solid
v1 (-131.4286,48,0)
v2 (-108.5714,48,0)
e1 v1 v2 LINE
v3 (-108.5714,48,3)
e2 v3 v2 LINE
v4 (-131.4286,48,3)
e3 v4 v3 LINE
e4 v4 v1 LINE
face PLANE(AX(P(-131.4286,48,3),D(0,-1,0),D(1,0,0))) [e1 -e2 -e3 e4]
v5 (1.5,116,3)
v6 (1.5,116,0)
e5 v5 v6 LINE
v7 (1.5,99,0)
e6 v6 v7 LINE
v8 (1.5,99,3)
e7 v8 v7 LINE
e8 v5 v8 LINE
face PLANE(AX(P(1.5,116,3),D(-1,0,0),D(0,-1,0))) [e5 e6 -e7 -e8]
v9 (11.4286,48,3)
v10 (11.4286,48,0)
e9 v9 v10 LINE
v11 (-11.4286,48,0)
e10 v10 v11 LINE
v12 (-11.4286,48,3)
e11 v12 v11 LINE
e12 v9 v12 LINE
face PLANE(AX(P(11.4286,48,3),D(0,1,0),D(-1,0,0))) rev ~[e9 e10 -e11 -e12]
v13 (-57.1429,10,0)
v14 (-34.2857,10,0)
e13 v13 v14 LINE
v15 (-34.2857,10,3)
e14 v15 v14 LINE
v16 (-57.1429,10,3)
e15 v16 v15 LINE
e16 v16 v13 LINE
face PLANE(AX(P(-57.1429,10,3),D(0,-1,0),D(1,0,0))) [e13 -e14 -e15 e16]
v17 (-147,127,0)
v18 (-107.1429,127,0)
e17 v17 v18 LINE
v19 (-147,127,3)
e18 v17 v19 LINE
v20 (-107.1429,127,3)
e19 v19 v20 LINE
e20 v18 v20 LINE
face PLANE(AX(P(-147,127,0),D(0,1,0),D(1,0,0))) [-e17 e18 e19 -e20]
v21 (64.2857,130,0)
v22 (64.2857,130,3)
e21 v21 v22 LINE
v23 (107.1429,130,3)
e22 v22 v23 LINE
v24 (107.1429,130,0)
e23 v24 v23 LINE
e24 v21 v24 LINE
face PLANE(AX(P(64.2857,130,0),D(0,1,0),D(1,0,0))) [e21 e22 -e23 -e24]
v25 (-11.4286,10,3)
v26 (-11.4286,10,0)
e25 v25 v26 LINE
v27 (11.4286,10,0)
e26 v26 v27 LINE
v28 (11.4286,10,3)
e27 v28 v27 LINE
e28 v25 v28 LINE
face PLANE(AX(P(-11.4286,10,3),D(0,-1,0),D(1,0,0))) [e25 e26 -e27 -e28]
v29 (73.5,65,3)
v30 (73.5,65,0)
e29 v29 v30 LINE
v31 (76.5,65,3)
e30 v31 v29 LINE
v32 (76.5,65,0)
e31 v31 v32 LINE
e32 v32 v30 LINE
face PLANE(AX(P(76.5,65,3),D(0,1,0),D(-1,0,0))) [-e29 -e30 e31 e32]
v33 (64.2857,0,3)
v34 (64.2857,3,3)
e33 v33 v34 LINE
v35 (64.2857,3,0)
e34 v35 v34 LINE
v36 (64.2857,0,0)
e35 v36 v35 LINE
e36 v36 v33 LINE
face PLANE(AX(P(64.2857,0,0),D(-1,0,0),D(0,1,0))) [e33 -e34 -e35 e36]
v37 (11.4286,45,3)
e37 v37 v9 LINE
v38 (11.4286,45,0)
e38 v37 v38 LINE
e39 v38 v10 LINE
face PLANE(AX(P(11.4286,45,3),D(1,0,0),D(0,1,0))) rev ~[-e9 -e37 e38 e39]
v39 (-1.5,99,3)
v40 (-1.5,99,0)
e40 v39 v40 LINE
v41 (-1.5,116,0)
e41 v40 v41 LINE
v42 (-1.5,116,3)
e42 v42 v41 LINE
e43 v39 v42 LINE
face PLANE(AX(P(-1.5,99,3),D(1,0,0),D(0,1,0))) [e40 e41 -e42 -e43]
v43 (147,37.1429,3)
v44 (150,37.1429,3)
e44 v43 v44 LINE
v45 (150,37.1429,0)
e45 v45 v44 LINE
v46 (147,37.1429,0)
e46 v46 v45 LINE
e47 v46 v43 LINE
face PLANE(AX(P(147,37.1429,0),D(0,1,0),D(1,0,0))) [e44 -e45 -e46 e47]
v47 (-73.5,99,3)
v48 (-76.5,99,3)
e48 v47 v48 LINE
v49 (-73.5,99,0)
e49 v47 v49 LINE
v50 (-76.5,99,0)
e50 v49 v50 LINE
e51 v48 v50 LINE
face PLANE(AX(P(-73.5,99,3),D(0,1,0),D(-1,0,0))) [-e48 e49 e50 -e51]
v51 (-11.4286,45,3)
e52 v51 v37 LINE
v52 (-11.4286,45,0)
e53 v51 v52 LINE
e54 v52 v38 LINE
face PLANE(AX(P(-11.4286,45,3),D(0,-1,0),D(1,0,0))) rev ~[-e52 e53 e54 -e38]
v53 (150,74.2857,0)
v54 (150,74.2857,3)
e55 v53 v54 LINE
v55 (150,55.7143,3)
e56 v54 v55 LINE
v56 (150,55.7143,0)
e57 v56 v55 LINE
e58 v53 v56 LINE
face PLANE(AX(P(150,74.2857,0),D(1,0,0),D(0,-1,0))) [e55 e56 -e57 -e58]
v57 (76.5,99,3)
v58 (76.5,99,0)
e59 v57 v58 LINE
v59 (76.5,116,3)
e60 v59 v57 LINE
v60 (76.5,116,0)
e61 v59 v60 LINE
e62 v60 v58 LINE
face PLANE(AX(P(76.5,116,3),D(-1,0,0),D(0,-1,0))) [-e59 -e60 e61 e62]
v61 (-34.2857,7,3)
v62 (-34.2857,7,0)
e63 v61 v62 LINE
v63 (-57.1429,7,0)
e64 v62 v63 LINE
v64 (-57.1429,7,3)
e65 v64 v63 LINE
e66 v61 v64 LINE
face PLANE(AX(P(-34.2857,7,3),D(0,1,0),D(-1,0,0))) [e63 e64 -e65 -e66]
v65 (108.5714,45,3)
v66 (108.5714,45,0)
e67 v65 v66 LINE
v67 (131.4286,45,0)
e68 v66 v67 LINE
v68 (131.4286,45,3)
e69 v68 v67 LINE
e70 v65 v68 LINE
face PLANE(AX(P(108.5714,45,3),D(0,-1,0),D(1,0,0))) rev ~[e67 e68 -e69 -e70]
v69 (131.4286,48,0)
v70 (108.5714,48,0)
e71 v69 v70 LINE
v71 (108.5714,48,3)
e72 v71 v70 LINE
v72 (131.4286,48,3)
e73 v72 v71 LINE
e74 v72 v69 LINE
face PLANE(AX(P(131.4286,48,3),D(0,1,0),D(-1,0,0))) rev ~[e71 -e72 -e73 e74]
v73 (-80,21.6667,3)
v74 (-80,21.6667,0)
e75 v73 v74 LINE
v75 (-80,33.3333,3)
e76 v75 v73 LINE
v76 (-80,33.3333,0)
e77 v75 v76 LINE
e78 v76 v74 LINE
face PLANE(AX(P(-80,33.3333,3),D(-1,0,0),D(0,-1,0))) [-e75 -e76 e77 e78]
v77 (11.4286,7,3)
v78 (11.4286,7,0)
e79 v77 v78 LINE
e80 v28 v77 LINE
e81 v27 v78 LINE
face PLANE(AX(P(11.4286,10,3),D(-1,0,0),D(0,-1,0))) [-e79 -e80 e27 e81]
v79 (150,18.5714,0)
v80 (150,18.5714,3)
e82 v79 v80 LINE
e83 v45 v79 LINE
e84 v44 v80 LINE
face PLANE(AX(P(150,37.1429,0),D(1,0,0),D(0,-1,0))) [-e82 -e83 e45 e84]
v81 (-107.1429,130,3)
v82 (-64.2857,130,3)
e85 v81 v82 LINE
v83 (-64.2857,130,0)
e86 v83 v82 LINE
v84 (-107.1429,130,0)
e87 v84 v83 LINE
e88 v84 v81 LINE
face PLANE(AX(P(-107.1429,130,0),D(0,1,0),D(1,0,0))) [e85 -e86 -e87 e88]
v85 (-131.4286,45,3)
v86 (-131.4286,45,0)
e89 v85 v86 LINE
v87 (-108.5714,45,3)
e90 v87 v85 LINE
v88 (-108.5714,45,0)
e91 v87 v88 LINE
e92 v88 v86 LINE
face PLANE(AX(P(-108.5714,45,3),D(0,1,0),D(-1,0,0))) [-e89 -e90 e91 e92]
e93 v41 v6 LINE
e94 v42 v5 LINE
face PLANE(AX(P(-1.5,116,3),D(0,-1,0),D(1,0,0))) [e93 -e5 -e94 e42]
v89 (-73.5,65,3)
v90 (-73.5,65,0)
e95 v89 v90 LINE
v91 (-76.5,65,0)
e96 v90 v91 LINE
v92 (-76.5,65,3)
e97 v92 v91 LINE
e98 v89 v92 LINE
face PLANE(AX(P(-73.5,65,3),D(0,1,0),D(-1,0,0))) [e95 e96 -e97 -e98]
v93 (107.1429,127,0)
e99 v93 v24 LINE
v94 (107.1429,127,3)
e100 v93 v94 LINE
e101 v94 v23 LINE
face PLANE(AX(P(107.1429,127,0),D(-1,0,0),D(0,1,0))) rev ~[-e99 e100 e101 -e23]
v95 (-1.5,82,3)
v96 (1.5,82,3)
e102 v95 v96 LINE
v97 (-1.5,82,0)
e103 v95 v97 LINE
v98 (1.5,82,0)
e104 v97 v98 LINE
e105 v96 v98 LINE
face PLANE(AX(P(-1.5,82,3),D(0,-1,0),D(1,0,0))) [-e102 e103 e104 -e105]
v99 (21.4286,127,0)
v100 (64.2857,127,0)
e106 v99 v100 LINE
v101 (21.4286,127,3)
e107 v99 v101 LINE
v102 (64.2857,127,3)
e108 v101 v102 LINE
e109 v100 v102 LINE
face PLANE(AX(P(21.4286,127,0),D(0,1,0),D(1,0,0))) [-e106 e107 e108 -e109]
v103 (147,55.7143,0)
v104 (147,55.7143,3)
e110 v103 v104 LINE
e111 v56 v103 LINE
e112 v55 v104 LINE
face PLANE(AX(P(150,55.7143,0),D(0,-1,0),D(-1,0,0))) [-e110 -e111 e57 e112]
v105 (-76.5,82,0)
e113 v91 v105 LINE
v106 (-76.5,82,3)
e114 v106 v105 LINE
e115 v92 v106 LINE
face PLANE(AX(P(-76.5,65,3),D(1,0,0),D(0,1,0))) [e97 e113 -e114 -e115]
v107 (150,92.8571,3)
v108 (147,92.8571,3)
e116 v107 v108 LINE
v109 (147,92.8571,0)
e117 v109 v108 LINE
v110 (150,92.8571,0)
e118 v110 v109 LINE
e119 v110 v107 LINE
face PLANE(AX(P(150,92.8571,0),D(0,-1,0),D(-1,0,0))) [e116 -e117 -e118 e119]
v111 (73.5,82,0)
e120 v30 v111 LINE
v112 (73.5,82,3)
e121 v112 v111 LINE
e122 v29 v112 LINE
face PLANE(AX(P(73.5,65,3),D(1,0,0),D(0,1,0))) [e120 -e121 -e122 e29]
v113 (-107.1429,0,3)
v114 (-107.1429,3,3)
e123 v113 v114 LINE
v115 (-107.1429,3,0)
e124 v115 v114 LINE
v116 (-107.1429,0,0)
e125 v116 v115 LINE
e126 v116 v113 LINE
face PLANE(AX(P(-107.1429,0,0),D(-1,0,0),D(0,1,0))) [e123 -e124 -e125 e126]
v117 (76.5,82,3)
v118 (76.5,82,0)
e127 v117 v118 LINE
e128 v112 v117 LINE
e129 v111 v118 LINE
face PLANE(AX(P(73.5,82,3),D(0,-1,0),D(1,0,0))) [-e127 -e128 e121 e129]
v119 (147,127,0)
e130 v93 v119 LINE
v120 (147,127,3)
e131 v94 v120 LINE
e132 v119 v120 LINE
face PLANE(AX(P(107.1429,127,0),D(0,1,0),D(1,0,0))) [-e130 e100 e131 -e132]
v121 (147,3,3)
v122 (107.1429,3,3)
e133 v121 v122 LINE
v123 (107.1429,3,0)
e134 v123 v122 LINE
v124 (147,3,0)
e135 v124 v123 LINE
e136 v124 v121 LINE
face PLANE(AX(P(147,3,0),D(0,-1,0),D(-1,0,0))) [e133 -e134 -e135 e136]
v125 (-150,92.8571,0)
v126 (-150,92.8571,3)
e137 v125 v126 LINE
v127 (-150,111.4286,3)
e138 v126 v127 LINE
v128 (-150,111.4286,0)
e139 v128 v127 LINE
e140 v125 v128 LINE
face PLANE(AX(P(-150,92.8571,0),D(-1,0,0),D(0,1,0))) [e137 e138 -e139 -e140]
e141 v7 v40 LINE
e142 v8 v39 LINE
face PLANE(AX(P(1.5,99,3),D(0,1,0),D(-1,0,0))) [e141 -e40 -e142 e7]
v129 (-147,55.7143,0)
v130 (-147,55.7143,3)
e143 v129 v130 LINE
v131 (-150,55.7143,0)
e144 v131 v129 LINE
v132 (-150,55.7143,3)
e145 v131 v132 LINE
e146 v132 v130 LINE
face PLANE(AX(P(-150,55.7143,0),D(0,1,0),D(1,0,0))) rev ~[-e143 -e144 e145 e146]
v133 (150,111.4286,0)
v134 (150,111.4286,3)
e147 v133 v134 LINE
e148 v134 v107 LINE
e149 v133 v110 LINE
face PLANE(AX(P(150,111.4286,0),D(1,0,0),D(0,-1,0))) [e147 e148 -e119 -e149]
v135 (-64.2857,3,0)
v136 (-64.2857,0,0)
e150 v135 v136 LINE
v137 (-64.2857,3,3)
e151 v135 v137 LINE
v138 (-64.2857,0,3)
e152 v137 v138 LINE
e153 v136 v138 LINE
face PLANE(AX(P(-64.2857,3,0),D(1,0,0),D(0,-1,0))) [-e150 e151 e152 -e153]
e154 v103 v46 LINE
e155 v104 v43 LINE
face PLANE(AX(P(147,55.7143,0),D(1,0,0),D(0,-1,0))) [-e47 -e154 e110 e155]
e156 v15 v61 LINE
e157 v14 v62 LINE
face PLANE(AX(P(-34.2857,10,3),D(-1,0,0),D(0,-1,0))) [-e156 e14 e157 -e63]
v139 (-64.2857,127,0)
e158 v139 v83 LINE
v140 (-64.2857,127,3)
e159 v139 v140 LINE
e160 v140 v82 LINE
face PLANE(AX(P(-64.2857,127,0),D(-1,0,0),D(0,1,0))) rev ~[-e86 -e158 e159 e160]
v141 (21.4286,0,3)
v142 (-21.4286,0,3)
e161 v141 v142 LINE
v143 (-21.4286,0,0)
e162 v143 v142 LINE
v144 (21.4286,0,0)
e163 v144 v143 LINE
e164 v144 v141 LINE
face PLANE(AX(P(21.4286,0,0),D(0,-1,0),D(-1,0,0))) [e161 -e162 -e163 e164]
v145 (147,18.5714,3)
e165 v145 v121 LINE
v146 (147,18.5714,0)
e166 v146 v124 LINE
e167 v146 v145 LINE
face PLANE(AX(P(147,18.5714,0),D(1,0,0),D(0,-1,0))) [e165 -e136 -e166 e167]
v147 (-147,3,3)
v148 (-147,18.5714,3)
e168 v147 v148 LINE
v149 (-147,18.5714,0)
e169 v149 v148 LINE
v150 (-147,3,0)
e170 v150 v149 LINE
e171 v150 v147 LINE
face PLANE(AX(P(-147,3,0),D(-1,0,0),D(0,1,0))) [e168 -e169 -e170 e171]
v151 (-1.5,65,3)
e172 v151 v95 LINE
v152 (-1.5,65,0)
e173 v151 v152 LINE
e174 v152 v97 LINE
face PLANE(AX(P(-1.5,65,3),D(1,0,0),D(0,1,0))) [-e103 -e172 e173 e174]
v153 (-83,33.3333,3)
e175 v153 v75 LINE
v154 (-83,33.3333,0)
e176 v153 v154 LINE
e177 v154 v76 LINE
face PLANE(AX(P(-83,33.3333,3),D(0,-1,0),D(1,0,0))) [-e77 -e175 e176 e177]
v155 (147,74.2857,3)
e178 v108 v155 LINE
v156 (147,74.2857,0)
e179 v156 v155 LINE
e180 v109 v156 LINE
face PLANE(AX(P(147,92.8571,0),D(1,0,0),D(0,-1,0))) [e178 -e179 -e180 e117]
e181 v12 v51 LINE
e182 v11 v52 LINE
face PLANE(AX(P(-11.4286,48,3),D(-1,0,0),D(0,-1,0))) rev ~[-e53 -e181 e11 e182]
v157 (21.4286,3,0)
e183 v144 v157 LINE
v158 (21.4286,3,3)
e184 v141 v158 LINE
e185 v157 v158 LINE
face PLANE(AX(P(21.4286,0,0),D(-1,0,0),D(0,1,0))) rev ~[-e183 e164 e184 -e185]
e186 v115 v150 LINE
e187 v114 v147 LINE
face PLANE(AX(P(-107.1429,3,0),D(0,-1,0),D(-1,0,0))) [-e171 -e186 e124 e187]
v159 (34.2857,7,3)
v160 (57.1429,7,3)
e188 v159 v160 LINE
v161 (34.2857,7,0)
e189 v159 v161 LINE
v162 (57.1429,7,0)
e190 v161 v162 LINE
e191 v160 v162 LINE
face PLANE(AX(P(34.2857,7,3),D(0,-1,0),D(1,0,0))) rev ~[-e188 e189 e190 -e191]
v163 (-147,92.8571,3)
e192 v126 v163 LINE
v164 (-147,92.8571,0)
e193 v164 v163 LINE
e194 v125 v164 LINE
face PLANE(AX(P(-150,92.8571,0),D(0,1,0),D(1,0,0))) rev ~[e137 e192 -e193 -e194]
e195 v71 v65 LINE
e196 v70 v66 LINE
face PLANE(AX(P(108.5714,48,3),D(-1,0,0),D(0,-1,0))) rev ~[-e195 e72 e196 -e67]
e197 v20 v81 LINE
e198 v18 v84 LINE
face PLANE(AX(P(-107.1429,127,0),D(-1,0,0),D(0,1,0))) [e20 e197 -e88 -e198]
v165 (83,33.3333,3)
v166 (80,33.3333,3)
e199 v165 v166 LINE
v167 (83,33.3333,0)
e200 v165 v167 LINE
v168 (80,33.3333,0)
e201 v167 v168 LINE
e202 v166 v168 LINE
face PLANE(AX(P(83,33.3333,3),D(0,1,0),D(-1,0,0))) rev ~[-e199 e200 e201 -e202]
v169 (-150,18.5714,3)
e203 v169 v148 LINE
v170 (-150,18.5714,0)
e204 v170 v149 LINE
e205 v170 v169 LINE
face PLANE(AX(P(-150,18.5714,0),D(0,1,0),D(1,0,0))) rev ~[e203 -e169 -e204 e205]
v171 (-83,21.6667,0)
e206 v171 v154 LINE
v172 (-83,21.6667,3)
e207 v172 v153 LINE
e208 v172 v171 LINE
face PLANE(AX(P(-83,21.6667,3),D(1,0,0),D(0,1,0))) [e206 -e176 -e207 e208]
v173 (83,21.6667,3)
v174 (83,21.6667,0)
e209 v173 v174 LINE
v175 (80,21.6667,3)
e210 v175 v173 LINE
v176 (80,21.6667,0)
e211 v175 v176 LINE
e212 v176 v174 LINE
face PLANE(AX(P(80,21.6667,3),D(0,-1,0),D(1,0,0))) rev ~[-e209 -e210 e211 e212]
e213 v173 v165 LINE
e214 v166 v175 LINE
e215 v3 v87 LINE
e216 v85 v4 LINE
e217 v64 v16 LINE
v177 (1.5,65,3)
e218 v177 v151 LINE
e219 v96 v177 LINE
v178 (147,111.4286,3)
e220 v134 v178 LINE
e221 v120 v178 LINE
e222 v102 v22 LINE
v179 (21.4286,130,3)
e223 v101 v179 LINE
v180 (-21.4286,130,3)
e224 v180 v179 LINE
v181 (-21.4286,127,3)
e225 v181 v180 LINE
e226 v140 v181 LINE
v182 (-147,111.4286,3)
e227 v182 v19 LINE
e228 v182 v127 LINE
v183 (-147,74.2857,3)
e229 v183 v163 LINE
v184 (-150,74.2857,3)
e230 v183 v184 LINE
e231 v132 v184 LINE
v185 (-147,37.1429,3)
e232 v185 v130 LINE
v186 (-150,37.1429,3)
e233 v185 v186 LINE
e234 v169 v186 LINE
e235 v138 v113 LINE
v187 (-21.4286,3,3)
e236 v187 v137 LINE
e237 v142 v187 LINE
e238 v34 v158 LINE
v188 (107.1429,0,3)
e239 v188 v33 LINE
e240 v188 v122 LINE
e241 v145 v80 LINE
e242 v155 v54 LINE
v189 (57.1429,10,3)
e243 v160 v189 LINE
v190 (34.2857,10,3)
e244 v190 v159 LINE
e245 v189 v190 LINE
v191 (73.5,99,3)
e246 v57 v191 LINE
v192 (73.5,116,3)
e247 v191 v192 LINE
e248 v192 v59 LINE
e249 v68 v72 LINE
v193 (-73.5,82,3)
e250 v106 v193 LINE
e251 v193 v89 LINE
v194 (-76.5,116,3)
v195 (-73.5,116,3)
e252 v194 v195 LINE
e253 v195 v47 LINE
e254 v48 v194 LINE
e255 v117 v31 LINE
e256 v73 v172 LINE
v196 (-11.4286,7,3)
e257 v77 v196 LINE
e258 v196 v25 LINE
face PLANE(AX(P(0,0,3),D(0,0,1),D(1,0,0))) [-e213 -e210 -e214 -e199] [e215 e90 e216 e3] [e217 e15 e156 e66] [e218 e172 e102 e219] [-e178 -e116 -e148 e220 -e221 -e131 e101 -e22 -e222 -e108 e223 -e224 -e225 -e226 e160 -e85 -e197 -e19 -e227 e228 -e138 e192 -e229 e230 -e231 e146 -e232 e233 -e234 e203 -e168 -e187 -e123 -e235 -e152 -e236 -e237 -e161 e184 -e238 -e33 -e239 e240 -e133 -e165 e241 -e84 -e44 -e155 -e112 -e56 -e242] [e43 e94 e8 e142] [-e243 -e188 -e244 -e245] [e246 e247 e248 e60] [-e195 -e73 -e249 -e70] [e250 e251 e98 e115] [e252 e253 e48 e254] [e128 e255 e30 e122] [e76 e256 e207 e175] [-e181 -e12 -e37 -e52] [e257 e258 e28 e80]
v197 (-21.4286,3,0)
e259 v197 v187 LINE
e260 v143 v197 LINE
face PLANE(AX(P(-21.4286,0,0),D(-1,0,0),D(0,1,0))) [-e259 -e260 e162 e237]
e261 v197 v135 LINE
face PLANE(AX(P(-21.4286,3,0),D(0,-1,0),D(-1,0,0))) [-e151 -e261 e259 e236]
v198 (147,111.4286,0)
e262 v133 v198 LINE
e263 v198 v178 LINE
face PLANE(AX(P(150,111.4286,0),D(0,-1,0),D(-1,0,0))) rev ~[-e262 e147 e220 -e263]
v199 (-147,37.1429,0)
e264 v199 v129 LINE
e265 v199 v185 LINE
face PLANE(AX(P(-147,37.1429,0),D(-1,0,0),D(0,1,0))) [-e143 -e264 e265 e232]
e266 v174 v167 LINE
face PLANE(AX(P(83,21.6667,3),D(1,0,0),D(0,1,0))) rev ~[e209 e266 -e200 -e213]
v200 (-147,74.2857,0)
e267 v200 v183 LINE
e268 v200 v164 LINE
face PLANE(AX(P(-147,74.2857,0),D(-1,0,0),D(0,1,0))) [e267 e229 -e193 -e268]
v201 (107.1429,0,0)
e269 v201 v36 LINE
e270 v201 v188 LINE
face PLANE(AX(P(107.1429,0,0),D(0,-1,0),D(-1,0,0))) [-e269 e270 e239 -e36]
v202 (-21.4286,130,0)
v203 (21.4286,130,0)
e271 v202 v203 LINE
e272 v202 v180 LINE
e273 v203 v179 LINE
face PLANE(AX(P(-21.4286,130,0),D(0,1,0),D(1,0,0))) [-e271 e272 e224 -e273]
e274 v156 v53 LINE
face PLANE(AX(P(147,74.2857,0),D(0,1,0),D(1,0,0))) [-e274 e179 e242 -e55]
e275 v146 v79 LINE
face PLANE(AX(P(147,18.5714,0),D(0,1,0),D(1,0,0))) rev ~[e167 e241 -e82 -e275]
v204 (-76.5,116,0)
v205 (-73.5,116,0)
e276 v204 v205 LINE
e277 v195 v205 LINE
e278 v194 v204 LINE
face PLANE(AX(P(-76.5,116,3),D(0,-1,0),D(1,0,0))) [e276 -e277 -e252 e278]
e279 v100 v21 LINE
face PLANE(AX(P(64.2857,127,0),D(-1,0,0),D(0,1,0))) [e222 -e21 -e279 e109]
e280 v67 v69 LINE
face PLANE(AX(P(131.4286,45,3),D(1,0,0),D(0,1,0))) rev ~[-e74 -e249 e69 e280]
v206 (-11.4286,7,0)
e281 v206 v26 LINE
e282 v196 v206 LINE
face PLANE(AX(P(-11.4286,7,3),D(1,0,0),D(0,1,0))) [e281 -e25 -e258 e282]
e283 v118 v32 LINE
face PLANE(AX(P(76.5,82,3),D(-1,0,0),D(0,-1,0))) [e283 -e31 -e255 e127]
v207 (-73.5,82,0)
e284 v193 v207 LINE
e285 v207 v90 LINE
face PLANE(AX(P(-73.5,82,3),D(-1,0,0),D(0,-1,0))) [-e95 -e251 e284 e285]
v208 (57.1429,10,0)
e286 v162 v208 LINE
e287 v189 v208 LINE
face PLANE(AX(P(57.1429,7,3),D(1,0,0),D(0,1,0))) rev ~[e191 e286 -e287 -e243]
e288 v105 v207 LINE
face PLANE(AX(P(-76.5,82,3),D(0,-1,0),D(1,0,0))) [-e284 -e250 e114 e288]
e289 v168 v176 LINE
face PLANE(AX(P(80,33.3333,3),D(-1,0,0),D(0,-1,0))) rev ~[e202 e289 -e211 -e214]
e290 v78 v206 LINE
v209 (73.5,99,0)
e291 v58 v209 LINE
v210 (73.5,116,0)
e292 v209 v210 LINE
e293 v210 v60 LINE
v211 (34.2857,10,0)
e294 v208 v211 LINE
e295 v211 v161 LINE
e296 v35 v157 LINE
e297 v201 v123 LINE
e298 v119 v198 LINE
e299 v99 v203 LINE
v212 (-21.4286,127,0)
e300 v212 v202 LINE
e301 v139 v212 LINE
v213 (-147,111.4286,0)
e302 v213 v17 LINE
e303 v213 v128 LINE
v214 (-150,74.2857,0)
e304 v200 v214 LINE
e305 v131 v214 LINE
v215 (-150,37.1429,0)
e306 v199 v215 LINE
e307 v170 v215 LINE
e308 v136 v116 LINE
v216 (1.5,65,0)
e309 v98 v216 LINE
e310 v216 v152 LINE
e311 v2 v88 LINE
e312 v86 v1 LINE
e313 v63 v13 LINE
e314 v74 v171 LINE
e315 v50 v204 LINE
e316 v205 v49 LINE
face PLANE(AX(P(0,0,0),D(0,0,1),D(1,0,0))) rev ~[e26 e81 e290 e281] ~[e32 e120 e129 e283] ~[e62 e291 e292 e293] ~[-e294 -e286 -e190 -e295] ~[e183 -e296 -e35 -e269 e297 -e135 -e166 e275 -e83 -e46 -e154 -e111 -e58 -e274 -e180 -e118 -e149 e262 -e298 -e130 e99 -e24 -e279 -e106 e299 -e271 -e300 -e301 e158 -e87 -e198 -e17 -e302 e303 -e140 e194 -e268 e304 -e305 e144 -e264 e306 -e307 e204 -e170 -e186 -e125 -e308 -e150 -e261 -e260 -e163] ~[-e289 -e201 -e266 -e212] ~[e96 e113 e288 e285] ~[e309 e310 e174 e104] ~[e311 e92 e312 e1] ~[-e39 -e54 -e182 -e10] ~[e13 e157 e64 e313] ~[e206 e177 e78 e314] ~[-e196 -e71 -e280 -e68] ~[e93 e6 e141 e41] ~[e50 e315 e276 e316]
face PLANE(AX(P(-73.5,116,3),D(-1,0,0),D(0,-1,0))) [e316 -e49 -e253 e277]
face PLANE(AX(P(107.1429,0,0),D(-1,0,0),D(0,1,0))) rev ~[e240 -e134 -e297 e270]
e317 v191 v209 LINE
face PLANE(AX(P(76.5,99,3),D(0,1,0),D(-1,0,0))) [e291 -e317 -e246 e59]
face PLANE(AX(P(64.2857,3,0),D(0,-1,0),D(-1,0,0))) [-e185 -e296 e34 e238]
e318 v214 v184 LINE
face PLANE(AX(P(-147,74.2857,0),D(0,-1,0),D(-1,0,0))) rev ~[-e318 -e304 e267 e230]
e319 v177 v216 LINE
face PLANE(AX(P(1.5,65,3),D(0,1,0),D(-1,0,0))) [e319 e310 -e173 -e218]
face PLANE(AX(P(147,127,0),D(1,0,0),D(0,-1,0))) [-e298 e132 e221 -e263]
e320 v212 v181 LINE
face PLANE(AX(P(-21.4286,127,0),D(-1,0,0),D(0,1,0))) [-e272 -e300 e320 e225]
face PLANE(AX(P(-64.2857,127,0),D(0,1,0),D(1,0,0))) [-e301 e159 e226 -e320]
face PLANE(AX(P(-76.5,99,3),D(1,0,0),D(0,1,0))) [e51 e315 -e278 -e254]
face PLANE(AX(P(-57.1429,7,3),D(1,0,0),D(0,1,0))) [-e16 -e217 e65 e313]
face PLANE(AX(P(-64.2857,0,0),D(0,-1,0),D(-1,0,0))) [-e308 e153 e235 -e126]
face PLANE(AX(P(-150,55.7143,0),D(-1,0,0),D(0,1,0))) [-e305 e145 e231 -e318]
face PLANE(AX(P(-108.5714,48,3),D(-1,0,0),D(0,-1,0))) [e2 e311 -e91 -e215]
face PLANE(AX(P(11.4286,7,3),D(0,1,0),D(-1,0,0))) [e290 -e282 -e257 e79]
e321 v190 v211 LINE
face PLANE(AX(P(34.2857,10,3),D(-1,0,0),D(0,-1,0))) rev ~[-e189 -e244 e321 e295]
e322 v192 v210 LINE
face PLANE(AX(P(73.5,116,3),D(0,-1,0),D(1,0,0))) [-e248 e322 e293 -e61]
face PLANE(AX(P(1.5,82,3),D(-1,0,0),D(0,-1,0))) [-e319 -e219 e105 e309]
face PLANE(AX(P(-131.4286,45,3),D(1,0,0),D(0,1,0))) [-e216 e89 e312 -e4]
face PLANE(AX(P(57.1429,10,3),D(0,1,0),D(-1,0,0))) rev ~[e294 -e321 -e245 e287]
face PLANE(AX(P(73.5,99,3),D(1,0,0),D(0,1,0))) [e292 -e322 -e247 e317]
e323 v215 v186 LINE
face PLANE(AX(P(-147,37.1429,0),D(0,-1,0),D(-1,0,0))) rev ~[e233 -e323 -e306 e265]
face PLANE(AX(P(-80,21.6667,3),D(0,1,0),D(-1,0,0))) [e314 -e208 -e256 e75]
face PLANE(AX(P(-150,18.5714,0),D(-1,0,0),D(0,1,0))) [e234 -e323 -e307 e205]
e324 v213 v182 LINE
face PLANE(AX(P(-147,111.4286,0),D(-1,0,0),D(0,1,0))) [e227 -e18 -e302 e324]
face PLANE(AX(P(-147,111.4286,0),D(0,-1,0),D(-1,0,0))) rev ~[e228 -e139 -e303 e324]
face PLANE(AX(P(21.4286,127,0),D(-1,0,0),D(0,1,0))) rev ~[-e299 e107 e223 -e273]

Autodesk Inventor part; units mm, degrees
ref_plane "YZ Plane" through (0, 0, 0) normal (1, 0, 0) x (0, 1, 0)
ref_plane "XZ Plane" through (0, 0, 0) normal (0, 1, 0) x (-1, 0, 0)
ref_plane "XY Plane" through (0, 0, 0) normal (0, 0, 1) x (1, 0, 0)
sketch "Sketch1" plane through (0, 0, 0) normal (0, 0, 1) x (1, 0, 0)
  line L0 (-150, 18.5714) -> (-147, 18.5714)
  line L1 (-147, 37.1429) -> (-150, 37.1429)
  line L2 (-150, 55.7143) -> (-147, 55.7143)
  line L3 (-147, 74.2857) -> (-150, 74.2857)
  line L4 (-150, 92.8571) -> (-147, 92.8571)
  line L5 (-147, 111.4286) -> (-150, 111.4286)
  line L6 (147, 18.5714) -> (150, 18.5714)
  line L7 (147, 37.1429) -> (150, 37.1429)
  line L8 (150, 55.7143) -> (147, 55.7143)
  line L9 (147, 74.2857) -> (150, 74.2857)
  line L10 (150, 92.8571) -> (147, 92.8571)
  line L11 (150, 111.4286) -> (147, 111.4286)
  line L12 (-107.1429, 0) -> (-107.1429, 3)
  line L13 (-64.2857, 3) -> (-64.2857, 0)
  line L14 (-21.4286, 0) -> (-21.4286, 3)
  line L15 (21.4286, 0) -> (21.4286, 3)
  line L16 (64.2857, 0) -> (64.2857, 3)
  line L17 (107.1429, 0) -> (107.1429, 3)
  line L18 (-107.1429, 127) -> (-107.1429, 130)
  line L19 (-64.2857, 127) -> (-64.2857, 130)
  line L20 (-21.4286, 127) -> (-21.4286, 130)
  line L21 (21.4286, 127) -> (21.4286, 130)
  line L22 (64.2857, 127) -> (64.2857, 130)
  line L23 (107.1429, 127) -> (107.1429, 130)
  line L24 (-107.1429, 3) -> (-147, 3)
  line L25 (-147, 3) -> (-147, 18.5714)
  line L26 (-147, 37.1429) -> (-147, 55.7143)
  line L27 (-147, 74.2857) -> (-147, 92.8571)
  line L28 (-147, 111.4286) -> (-147, 127)
  line L29 (-147, 127) -> (-107.1429, 127)
  line L30 (-64.2857, 127) -> (-21.4286, 127)
  line L31 (21.4286, 127) -> (64.2857, 127)
  line L32 (107.1429, 127) -> (147, 127)
  line L33 (-21.4286, 3) -> (-64.2857, 3)
  line L34 (147, 3) -> (107.1429, 3)
  line L35 (64.2857, 3) -> (21.4286, 3)
  line L36 (-150, 92.8571) -> (-150, 111.4286)
  line L37 (-150, 18.5714) -> (-150, 37.1429)
  line L38 (-150, 55.7143) -> (-150, 74.2857)
  line L39 (-64.2857, 0) -> (-107.1429, 0)
  line L40 (107.1429, 0) -> (64.2857, 0)
  line L41 (21.4286, 0) -> (-21.4286, 0)
  line L42 (-107.1429, 130) -> (-64.2857, 130)
  line L43 (-21.4286, 130) -> (21.4286, 130)
  line L44 (64.2857, 130) -> (107.1429, 130)
  line L45 (150, 37.1429) -> (150, 18.5714)
  line L46 (150, 111.4286) -> (150, 92.8571)
  line L47 (150, 74.2857) -> (150, 55.7143)
  line L48 (147, 127) -> (147, 111.4286)
  line L49 (147, 92.8571) -> (147, 74.2857)
  line L50 (147, 55.7143) -> (147, 37.1429)
  line L51 (147, 18.5714) -> (147, 3)
  point P0 (0, 0)
  dimension "d1" = 300
  dimension "d5" = 42.8571
  dimension "d6" = 150
  dimension "d7" = 85.7143
  dimension "d8" = 128.5714
  dimension "d9" = 171.4286
  dimension "d10" = 214.2857
  dimension "d11" = 257.1429
  dimension "d12" = 130
  dimension "d13" = 18.5714
  dimension "d14" = 0
  dimension "d15" = 3
  dimension "d16" = 37.1429
  dimension "d17" = 55.7143
  dimension "d18" = 74.2857
  dimension "d19" = 92.8571
  dimension "d20" = 111.4286
  dimension "d21" = 124
  dimension "d22" = 3
  dimension "d23" = 3
extrude "Extrusion1" add sketch "Sketch1" along normal blind 3
sketch "Sketch2" plane through (0, 0, 3) normal (0, 0, 1) x (1, 0, 0)
  line L0 (-108.5714, 45) -> (-131.4286, 45)
  line L1 (-131.4286, 45) -> (-131.4286, 48)
  line L2 (-131.4286, 48) -> (-108.5714, 48)
  line L3 (-108.5714, 48) -> (-108.5714, 45)
  line L4 (-11.4286, 45) -> (11.4286, 45)
  line L5 (11.4286, 45) -> (11.4286, 48)
  line L6 (11.4286, 48) -> (-11.4286, 48)
  line L7 (-11.4286, 48) -> (-11.4286, 45)
  line L8 (108.5714, 45) -> (131.4286, 45)
  line L9 (131.4286, 45) -> (131.4286, 48)
  line L10 (131.4286, 48) -> (108.5714, 48)
  line L11 (108.5714, 48) -> (108.5714, 45)
  line L12 (-21.4286, 0) -> (21.4286, 0) projected
  line L13 (-11.4286, 10) -> (11.4286, 10)
  line L14 (11.4286, 10) -> (11.4286, 7)
  line L15 (11.4286, 7) -> (-11.4286, 7)
  line L16 (-11.4286, 7) -> (-11.4286, 10)
  line L17 (34.2857, 7) -> (57.1429, 7)
  line L18 (57.1429, 7) -> (57.1429, 10)
  line L19 (57.1429, 10) -> (34.2857, 10)
  line L20 (34.2857, 10) -> (34.2857, 7)
  line L21 (-34.2857, 7) -> (-57.1429, 7)
  line L22 (-57.1429, 7) -> (-57.1429, 10)
  line L23 (-57.1429, 10) -> (-34.2857, 10)
  line L24 (-34.2857, 10) -> (-34.2857, 7)
  line L25 (-80, 21.6667) -> (-83, 21.6667)
  line L26 (-83, 21.6667) -> (-83, 33.3333)
  line L27 (-83, 33.3333) -> (-80, 33.3333)
  line L28 (-80, 33.3333) -> (-80, 21.6667)
  line L29 (80, 21.6667) -> (83, 21.6667)
  line L30 (83, 21.6667) -> (83, 33.3333)
  line L31 (83, 33.3333) -> (80, 33.3333)
  line L32 (80, 33.3333) -> (80, 21.6667)
  point P0 (0, 0)
  point P1 (-120, 45)
  point P2 (120, 45)
  dimension "d26" = 22.8571
  dimension "d27" = 48
  dimension "d28" = 3
  dimension "d29" = 120
  dimension "d30" = 120
  dimension "d31" = 11.4286
  dimension "d34" = 7
  dimension "d35" = 3
  dimension "d36" = 22.8571
  dimension "d37" = 22.8571
  dimension "d38" = 3
  dimension "d39" = 3
  dimension "d40" = 11.6667
  dimension "d41" = 11.6667
  dimension "d42" = 22.8571
  dimension "d43" = 22.8571
extrude "Extrusion2" cut sketch "Sketch2" against normal through all
sketch "Sketch3" plane through (0, 0, 3) normal (0, 0, 1) x (1, 0, 0)
  line L0 (-76.5, 116) -> (-73.5, 116)
  line L1 (-73.5, 116) -> (-73.5, 99)
  line L2 (-73.5, 99) -> (-76.5, 99)
  line L3 (-76.5, 99) -> (-76.5, 116)
  line L4 (-76.5, 82) -> (-73.5, 82)
  line L5 (-73.5, 82) -> (-73.5, 65)
  line L6 (-73.5, 65) -> (-76.5, 65)
  line L7 (-76.5, 65) -> (-76.5, 82)
  line L8 (-21.4286, 127) -> (-64.2857, 127) projected
  line L9 (-64.2857, 127) -> (-73.5, 127) construction
  line L10 (-73.5, 127) -> (-73.5, 116) construction
  line L11 (-73.5, 99) -> (-73.5, 82) construction
  line L12 (-108.5714, 48) -> (-73.5, 48) construction
  line L13 (-73.5, 48) -> (-73.5, 65) construction
  point P0 (0, 0)
  dimension "d44" = 17
  dimension "d45" = 3
  dimension "d46" = 73.5
  dimension "d52" = 17
extrude "Extrusion3" cut sketch "Sketch3" against normal through all
pattern_linear "Rectangular Pattern1" count 3 spacing 75 along (1, 0, 0) of "Extrusion3"
equation "\"d1\" = wt"
equation "\"d5\" = 0.142857 * wt - tol"
equation "\"d6\" = 0.5 * wt"
equation "\"d7\" = 0.285714 * wt + tol"
equation "\"d8\" = 0.428571 * wt - tol"
equation "\"d9\" = 0.571429 * wt + tol"
equation "\"d10\" = 0.714286 * wt - tol"
equation "\"d11\" = 0.857143 * wt + tol"
equation "\"d12\" = height_back"
equation "\"d13\" = 0.142857 * height_back - tol"
equation "\"d15\" = tt"
equation "\"d16\" = 0.285714 * height_back + tol"
equation "\"d17\" = 0.428571 * height_back - tol"
equation "\"d18\" = 0.571429 * height_back + tol"
equation "\"d19\" = 0.714286 * height_back - tol"
equation "\"d20\" = 0.857143 * height_back + tol"
equation "\"d21\" = -2 * tt + height_back"
equation "\"d22\" = tt"
equation "\"d23\" = tt"
equation "\"d24\" = tt"
equation "\"d26\" = 0.142857 * shelfW + 2 * tol"
equation "\"d28\" = tt"
equation "\"d29\" = 0.4 * wt"
equation "\"d30\" = 0.4 * wt"
equation "\"d31\" = 0.0714286 * shelfW + tol"
equation "\"d35\" = tt"
equation "\"d36\" = 0.142857 * shelfW - 2 * tol"
equation "\"d37\" = 0.142857 * shelfW - 2 * tol"
equation "\"d38\" = tt"
equation "\"d39\" = tt"
equation "\"d40\" = 0.333333 * shelfH + 2 * tol"
equation "\"d41\" = 0.333333 * shelfH - tol"
equation "\"d42\" = 0.142857 * shelfW - tol"
equation "\"d43\" = 0.142857 * shelfW - tol"
equation "\"d45\" = tt"
equation "\"d46\" = 0.25 * wt - 0.5 * tt"
equation "\"d51\" = 0.25 * wt"
equation "\"wt\" = 300"
equation "\"tt\" = 3"
equation "\"tol\" = 0"
equation "\"height_back\" = 130"
equation "\"d4\" = tt"
equation "\"tiroir\" = 1"
equation "\"nHoles\" = 4"
equation "\"shelfH\" = 35"
equation "\"shelfW\" = 160"
properties part number "back"
